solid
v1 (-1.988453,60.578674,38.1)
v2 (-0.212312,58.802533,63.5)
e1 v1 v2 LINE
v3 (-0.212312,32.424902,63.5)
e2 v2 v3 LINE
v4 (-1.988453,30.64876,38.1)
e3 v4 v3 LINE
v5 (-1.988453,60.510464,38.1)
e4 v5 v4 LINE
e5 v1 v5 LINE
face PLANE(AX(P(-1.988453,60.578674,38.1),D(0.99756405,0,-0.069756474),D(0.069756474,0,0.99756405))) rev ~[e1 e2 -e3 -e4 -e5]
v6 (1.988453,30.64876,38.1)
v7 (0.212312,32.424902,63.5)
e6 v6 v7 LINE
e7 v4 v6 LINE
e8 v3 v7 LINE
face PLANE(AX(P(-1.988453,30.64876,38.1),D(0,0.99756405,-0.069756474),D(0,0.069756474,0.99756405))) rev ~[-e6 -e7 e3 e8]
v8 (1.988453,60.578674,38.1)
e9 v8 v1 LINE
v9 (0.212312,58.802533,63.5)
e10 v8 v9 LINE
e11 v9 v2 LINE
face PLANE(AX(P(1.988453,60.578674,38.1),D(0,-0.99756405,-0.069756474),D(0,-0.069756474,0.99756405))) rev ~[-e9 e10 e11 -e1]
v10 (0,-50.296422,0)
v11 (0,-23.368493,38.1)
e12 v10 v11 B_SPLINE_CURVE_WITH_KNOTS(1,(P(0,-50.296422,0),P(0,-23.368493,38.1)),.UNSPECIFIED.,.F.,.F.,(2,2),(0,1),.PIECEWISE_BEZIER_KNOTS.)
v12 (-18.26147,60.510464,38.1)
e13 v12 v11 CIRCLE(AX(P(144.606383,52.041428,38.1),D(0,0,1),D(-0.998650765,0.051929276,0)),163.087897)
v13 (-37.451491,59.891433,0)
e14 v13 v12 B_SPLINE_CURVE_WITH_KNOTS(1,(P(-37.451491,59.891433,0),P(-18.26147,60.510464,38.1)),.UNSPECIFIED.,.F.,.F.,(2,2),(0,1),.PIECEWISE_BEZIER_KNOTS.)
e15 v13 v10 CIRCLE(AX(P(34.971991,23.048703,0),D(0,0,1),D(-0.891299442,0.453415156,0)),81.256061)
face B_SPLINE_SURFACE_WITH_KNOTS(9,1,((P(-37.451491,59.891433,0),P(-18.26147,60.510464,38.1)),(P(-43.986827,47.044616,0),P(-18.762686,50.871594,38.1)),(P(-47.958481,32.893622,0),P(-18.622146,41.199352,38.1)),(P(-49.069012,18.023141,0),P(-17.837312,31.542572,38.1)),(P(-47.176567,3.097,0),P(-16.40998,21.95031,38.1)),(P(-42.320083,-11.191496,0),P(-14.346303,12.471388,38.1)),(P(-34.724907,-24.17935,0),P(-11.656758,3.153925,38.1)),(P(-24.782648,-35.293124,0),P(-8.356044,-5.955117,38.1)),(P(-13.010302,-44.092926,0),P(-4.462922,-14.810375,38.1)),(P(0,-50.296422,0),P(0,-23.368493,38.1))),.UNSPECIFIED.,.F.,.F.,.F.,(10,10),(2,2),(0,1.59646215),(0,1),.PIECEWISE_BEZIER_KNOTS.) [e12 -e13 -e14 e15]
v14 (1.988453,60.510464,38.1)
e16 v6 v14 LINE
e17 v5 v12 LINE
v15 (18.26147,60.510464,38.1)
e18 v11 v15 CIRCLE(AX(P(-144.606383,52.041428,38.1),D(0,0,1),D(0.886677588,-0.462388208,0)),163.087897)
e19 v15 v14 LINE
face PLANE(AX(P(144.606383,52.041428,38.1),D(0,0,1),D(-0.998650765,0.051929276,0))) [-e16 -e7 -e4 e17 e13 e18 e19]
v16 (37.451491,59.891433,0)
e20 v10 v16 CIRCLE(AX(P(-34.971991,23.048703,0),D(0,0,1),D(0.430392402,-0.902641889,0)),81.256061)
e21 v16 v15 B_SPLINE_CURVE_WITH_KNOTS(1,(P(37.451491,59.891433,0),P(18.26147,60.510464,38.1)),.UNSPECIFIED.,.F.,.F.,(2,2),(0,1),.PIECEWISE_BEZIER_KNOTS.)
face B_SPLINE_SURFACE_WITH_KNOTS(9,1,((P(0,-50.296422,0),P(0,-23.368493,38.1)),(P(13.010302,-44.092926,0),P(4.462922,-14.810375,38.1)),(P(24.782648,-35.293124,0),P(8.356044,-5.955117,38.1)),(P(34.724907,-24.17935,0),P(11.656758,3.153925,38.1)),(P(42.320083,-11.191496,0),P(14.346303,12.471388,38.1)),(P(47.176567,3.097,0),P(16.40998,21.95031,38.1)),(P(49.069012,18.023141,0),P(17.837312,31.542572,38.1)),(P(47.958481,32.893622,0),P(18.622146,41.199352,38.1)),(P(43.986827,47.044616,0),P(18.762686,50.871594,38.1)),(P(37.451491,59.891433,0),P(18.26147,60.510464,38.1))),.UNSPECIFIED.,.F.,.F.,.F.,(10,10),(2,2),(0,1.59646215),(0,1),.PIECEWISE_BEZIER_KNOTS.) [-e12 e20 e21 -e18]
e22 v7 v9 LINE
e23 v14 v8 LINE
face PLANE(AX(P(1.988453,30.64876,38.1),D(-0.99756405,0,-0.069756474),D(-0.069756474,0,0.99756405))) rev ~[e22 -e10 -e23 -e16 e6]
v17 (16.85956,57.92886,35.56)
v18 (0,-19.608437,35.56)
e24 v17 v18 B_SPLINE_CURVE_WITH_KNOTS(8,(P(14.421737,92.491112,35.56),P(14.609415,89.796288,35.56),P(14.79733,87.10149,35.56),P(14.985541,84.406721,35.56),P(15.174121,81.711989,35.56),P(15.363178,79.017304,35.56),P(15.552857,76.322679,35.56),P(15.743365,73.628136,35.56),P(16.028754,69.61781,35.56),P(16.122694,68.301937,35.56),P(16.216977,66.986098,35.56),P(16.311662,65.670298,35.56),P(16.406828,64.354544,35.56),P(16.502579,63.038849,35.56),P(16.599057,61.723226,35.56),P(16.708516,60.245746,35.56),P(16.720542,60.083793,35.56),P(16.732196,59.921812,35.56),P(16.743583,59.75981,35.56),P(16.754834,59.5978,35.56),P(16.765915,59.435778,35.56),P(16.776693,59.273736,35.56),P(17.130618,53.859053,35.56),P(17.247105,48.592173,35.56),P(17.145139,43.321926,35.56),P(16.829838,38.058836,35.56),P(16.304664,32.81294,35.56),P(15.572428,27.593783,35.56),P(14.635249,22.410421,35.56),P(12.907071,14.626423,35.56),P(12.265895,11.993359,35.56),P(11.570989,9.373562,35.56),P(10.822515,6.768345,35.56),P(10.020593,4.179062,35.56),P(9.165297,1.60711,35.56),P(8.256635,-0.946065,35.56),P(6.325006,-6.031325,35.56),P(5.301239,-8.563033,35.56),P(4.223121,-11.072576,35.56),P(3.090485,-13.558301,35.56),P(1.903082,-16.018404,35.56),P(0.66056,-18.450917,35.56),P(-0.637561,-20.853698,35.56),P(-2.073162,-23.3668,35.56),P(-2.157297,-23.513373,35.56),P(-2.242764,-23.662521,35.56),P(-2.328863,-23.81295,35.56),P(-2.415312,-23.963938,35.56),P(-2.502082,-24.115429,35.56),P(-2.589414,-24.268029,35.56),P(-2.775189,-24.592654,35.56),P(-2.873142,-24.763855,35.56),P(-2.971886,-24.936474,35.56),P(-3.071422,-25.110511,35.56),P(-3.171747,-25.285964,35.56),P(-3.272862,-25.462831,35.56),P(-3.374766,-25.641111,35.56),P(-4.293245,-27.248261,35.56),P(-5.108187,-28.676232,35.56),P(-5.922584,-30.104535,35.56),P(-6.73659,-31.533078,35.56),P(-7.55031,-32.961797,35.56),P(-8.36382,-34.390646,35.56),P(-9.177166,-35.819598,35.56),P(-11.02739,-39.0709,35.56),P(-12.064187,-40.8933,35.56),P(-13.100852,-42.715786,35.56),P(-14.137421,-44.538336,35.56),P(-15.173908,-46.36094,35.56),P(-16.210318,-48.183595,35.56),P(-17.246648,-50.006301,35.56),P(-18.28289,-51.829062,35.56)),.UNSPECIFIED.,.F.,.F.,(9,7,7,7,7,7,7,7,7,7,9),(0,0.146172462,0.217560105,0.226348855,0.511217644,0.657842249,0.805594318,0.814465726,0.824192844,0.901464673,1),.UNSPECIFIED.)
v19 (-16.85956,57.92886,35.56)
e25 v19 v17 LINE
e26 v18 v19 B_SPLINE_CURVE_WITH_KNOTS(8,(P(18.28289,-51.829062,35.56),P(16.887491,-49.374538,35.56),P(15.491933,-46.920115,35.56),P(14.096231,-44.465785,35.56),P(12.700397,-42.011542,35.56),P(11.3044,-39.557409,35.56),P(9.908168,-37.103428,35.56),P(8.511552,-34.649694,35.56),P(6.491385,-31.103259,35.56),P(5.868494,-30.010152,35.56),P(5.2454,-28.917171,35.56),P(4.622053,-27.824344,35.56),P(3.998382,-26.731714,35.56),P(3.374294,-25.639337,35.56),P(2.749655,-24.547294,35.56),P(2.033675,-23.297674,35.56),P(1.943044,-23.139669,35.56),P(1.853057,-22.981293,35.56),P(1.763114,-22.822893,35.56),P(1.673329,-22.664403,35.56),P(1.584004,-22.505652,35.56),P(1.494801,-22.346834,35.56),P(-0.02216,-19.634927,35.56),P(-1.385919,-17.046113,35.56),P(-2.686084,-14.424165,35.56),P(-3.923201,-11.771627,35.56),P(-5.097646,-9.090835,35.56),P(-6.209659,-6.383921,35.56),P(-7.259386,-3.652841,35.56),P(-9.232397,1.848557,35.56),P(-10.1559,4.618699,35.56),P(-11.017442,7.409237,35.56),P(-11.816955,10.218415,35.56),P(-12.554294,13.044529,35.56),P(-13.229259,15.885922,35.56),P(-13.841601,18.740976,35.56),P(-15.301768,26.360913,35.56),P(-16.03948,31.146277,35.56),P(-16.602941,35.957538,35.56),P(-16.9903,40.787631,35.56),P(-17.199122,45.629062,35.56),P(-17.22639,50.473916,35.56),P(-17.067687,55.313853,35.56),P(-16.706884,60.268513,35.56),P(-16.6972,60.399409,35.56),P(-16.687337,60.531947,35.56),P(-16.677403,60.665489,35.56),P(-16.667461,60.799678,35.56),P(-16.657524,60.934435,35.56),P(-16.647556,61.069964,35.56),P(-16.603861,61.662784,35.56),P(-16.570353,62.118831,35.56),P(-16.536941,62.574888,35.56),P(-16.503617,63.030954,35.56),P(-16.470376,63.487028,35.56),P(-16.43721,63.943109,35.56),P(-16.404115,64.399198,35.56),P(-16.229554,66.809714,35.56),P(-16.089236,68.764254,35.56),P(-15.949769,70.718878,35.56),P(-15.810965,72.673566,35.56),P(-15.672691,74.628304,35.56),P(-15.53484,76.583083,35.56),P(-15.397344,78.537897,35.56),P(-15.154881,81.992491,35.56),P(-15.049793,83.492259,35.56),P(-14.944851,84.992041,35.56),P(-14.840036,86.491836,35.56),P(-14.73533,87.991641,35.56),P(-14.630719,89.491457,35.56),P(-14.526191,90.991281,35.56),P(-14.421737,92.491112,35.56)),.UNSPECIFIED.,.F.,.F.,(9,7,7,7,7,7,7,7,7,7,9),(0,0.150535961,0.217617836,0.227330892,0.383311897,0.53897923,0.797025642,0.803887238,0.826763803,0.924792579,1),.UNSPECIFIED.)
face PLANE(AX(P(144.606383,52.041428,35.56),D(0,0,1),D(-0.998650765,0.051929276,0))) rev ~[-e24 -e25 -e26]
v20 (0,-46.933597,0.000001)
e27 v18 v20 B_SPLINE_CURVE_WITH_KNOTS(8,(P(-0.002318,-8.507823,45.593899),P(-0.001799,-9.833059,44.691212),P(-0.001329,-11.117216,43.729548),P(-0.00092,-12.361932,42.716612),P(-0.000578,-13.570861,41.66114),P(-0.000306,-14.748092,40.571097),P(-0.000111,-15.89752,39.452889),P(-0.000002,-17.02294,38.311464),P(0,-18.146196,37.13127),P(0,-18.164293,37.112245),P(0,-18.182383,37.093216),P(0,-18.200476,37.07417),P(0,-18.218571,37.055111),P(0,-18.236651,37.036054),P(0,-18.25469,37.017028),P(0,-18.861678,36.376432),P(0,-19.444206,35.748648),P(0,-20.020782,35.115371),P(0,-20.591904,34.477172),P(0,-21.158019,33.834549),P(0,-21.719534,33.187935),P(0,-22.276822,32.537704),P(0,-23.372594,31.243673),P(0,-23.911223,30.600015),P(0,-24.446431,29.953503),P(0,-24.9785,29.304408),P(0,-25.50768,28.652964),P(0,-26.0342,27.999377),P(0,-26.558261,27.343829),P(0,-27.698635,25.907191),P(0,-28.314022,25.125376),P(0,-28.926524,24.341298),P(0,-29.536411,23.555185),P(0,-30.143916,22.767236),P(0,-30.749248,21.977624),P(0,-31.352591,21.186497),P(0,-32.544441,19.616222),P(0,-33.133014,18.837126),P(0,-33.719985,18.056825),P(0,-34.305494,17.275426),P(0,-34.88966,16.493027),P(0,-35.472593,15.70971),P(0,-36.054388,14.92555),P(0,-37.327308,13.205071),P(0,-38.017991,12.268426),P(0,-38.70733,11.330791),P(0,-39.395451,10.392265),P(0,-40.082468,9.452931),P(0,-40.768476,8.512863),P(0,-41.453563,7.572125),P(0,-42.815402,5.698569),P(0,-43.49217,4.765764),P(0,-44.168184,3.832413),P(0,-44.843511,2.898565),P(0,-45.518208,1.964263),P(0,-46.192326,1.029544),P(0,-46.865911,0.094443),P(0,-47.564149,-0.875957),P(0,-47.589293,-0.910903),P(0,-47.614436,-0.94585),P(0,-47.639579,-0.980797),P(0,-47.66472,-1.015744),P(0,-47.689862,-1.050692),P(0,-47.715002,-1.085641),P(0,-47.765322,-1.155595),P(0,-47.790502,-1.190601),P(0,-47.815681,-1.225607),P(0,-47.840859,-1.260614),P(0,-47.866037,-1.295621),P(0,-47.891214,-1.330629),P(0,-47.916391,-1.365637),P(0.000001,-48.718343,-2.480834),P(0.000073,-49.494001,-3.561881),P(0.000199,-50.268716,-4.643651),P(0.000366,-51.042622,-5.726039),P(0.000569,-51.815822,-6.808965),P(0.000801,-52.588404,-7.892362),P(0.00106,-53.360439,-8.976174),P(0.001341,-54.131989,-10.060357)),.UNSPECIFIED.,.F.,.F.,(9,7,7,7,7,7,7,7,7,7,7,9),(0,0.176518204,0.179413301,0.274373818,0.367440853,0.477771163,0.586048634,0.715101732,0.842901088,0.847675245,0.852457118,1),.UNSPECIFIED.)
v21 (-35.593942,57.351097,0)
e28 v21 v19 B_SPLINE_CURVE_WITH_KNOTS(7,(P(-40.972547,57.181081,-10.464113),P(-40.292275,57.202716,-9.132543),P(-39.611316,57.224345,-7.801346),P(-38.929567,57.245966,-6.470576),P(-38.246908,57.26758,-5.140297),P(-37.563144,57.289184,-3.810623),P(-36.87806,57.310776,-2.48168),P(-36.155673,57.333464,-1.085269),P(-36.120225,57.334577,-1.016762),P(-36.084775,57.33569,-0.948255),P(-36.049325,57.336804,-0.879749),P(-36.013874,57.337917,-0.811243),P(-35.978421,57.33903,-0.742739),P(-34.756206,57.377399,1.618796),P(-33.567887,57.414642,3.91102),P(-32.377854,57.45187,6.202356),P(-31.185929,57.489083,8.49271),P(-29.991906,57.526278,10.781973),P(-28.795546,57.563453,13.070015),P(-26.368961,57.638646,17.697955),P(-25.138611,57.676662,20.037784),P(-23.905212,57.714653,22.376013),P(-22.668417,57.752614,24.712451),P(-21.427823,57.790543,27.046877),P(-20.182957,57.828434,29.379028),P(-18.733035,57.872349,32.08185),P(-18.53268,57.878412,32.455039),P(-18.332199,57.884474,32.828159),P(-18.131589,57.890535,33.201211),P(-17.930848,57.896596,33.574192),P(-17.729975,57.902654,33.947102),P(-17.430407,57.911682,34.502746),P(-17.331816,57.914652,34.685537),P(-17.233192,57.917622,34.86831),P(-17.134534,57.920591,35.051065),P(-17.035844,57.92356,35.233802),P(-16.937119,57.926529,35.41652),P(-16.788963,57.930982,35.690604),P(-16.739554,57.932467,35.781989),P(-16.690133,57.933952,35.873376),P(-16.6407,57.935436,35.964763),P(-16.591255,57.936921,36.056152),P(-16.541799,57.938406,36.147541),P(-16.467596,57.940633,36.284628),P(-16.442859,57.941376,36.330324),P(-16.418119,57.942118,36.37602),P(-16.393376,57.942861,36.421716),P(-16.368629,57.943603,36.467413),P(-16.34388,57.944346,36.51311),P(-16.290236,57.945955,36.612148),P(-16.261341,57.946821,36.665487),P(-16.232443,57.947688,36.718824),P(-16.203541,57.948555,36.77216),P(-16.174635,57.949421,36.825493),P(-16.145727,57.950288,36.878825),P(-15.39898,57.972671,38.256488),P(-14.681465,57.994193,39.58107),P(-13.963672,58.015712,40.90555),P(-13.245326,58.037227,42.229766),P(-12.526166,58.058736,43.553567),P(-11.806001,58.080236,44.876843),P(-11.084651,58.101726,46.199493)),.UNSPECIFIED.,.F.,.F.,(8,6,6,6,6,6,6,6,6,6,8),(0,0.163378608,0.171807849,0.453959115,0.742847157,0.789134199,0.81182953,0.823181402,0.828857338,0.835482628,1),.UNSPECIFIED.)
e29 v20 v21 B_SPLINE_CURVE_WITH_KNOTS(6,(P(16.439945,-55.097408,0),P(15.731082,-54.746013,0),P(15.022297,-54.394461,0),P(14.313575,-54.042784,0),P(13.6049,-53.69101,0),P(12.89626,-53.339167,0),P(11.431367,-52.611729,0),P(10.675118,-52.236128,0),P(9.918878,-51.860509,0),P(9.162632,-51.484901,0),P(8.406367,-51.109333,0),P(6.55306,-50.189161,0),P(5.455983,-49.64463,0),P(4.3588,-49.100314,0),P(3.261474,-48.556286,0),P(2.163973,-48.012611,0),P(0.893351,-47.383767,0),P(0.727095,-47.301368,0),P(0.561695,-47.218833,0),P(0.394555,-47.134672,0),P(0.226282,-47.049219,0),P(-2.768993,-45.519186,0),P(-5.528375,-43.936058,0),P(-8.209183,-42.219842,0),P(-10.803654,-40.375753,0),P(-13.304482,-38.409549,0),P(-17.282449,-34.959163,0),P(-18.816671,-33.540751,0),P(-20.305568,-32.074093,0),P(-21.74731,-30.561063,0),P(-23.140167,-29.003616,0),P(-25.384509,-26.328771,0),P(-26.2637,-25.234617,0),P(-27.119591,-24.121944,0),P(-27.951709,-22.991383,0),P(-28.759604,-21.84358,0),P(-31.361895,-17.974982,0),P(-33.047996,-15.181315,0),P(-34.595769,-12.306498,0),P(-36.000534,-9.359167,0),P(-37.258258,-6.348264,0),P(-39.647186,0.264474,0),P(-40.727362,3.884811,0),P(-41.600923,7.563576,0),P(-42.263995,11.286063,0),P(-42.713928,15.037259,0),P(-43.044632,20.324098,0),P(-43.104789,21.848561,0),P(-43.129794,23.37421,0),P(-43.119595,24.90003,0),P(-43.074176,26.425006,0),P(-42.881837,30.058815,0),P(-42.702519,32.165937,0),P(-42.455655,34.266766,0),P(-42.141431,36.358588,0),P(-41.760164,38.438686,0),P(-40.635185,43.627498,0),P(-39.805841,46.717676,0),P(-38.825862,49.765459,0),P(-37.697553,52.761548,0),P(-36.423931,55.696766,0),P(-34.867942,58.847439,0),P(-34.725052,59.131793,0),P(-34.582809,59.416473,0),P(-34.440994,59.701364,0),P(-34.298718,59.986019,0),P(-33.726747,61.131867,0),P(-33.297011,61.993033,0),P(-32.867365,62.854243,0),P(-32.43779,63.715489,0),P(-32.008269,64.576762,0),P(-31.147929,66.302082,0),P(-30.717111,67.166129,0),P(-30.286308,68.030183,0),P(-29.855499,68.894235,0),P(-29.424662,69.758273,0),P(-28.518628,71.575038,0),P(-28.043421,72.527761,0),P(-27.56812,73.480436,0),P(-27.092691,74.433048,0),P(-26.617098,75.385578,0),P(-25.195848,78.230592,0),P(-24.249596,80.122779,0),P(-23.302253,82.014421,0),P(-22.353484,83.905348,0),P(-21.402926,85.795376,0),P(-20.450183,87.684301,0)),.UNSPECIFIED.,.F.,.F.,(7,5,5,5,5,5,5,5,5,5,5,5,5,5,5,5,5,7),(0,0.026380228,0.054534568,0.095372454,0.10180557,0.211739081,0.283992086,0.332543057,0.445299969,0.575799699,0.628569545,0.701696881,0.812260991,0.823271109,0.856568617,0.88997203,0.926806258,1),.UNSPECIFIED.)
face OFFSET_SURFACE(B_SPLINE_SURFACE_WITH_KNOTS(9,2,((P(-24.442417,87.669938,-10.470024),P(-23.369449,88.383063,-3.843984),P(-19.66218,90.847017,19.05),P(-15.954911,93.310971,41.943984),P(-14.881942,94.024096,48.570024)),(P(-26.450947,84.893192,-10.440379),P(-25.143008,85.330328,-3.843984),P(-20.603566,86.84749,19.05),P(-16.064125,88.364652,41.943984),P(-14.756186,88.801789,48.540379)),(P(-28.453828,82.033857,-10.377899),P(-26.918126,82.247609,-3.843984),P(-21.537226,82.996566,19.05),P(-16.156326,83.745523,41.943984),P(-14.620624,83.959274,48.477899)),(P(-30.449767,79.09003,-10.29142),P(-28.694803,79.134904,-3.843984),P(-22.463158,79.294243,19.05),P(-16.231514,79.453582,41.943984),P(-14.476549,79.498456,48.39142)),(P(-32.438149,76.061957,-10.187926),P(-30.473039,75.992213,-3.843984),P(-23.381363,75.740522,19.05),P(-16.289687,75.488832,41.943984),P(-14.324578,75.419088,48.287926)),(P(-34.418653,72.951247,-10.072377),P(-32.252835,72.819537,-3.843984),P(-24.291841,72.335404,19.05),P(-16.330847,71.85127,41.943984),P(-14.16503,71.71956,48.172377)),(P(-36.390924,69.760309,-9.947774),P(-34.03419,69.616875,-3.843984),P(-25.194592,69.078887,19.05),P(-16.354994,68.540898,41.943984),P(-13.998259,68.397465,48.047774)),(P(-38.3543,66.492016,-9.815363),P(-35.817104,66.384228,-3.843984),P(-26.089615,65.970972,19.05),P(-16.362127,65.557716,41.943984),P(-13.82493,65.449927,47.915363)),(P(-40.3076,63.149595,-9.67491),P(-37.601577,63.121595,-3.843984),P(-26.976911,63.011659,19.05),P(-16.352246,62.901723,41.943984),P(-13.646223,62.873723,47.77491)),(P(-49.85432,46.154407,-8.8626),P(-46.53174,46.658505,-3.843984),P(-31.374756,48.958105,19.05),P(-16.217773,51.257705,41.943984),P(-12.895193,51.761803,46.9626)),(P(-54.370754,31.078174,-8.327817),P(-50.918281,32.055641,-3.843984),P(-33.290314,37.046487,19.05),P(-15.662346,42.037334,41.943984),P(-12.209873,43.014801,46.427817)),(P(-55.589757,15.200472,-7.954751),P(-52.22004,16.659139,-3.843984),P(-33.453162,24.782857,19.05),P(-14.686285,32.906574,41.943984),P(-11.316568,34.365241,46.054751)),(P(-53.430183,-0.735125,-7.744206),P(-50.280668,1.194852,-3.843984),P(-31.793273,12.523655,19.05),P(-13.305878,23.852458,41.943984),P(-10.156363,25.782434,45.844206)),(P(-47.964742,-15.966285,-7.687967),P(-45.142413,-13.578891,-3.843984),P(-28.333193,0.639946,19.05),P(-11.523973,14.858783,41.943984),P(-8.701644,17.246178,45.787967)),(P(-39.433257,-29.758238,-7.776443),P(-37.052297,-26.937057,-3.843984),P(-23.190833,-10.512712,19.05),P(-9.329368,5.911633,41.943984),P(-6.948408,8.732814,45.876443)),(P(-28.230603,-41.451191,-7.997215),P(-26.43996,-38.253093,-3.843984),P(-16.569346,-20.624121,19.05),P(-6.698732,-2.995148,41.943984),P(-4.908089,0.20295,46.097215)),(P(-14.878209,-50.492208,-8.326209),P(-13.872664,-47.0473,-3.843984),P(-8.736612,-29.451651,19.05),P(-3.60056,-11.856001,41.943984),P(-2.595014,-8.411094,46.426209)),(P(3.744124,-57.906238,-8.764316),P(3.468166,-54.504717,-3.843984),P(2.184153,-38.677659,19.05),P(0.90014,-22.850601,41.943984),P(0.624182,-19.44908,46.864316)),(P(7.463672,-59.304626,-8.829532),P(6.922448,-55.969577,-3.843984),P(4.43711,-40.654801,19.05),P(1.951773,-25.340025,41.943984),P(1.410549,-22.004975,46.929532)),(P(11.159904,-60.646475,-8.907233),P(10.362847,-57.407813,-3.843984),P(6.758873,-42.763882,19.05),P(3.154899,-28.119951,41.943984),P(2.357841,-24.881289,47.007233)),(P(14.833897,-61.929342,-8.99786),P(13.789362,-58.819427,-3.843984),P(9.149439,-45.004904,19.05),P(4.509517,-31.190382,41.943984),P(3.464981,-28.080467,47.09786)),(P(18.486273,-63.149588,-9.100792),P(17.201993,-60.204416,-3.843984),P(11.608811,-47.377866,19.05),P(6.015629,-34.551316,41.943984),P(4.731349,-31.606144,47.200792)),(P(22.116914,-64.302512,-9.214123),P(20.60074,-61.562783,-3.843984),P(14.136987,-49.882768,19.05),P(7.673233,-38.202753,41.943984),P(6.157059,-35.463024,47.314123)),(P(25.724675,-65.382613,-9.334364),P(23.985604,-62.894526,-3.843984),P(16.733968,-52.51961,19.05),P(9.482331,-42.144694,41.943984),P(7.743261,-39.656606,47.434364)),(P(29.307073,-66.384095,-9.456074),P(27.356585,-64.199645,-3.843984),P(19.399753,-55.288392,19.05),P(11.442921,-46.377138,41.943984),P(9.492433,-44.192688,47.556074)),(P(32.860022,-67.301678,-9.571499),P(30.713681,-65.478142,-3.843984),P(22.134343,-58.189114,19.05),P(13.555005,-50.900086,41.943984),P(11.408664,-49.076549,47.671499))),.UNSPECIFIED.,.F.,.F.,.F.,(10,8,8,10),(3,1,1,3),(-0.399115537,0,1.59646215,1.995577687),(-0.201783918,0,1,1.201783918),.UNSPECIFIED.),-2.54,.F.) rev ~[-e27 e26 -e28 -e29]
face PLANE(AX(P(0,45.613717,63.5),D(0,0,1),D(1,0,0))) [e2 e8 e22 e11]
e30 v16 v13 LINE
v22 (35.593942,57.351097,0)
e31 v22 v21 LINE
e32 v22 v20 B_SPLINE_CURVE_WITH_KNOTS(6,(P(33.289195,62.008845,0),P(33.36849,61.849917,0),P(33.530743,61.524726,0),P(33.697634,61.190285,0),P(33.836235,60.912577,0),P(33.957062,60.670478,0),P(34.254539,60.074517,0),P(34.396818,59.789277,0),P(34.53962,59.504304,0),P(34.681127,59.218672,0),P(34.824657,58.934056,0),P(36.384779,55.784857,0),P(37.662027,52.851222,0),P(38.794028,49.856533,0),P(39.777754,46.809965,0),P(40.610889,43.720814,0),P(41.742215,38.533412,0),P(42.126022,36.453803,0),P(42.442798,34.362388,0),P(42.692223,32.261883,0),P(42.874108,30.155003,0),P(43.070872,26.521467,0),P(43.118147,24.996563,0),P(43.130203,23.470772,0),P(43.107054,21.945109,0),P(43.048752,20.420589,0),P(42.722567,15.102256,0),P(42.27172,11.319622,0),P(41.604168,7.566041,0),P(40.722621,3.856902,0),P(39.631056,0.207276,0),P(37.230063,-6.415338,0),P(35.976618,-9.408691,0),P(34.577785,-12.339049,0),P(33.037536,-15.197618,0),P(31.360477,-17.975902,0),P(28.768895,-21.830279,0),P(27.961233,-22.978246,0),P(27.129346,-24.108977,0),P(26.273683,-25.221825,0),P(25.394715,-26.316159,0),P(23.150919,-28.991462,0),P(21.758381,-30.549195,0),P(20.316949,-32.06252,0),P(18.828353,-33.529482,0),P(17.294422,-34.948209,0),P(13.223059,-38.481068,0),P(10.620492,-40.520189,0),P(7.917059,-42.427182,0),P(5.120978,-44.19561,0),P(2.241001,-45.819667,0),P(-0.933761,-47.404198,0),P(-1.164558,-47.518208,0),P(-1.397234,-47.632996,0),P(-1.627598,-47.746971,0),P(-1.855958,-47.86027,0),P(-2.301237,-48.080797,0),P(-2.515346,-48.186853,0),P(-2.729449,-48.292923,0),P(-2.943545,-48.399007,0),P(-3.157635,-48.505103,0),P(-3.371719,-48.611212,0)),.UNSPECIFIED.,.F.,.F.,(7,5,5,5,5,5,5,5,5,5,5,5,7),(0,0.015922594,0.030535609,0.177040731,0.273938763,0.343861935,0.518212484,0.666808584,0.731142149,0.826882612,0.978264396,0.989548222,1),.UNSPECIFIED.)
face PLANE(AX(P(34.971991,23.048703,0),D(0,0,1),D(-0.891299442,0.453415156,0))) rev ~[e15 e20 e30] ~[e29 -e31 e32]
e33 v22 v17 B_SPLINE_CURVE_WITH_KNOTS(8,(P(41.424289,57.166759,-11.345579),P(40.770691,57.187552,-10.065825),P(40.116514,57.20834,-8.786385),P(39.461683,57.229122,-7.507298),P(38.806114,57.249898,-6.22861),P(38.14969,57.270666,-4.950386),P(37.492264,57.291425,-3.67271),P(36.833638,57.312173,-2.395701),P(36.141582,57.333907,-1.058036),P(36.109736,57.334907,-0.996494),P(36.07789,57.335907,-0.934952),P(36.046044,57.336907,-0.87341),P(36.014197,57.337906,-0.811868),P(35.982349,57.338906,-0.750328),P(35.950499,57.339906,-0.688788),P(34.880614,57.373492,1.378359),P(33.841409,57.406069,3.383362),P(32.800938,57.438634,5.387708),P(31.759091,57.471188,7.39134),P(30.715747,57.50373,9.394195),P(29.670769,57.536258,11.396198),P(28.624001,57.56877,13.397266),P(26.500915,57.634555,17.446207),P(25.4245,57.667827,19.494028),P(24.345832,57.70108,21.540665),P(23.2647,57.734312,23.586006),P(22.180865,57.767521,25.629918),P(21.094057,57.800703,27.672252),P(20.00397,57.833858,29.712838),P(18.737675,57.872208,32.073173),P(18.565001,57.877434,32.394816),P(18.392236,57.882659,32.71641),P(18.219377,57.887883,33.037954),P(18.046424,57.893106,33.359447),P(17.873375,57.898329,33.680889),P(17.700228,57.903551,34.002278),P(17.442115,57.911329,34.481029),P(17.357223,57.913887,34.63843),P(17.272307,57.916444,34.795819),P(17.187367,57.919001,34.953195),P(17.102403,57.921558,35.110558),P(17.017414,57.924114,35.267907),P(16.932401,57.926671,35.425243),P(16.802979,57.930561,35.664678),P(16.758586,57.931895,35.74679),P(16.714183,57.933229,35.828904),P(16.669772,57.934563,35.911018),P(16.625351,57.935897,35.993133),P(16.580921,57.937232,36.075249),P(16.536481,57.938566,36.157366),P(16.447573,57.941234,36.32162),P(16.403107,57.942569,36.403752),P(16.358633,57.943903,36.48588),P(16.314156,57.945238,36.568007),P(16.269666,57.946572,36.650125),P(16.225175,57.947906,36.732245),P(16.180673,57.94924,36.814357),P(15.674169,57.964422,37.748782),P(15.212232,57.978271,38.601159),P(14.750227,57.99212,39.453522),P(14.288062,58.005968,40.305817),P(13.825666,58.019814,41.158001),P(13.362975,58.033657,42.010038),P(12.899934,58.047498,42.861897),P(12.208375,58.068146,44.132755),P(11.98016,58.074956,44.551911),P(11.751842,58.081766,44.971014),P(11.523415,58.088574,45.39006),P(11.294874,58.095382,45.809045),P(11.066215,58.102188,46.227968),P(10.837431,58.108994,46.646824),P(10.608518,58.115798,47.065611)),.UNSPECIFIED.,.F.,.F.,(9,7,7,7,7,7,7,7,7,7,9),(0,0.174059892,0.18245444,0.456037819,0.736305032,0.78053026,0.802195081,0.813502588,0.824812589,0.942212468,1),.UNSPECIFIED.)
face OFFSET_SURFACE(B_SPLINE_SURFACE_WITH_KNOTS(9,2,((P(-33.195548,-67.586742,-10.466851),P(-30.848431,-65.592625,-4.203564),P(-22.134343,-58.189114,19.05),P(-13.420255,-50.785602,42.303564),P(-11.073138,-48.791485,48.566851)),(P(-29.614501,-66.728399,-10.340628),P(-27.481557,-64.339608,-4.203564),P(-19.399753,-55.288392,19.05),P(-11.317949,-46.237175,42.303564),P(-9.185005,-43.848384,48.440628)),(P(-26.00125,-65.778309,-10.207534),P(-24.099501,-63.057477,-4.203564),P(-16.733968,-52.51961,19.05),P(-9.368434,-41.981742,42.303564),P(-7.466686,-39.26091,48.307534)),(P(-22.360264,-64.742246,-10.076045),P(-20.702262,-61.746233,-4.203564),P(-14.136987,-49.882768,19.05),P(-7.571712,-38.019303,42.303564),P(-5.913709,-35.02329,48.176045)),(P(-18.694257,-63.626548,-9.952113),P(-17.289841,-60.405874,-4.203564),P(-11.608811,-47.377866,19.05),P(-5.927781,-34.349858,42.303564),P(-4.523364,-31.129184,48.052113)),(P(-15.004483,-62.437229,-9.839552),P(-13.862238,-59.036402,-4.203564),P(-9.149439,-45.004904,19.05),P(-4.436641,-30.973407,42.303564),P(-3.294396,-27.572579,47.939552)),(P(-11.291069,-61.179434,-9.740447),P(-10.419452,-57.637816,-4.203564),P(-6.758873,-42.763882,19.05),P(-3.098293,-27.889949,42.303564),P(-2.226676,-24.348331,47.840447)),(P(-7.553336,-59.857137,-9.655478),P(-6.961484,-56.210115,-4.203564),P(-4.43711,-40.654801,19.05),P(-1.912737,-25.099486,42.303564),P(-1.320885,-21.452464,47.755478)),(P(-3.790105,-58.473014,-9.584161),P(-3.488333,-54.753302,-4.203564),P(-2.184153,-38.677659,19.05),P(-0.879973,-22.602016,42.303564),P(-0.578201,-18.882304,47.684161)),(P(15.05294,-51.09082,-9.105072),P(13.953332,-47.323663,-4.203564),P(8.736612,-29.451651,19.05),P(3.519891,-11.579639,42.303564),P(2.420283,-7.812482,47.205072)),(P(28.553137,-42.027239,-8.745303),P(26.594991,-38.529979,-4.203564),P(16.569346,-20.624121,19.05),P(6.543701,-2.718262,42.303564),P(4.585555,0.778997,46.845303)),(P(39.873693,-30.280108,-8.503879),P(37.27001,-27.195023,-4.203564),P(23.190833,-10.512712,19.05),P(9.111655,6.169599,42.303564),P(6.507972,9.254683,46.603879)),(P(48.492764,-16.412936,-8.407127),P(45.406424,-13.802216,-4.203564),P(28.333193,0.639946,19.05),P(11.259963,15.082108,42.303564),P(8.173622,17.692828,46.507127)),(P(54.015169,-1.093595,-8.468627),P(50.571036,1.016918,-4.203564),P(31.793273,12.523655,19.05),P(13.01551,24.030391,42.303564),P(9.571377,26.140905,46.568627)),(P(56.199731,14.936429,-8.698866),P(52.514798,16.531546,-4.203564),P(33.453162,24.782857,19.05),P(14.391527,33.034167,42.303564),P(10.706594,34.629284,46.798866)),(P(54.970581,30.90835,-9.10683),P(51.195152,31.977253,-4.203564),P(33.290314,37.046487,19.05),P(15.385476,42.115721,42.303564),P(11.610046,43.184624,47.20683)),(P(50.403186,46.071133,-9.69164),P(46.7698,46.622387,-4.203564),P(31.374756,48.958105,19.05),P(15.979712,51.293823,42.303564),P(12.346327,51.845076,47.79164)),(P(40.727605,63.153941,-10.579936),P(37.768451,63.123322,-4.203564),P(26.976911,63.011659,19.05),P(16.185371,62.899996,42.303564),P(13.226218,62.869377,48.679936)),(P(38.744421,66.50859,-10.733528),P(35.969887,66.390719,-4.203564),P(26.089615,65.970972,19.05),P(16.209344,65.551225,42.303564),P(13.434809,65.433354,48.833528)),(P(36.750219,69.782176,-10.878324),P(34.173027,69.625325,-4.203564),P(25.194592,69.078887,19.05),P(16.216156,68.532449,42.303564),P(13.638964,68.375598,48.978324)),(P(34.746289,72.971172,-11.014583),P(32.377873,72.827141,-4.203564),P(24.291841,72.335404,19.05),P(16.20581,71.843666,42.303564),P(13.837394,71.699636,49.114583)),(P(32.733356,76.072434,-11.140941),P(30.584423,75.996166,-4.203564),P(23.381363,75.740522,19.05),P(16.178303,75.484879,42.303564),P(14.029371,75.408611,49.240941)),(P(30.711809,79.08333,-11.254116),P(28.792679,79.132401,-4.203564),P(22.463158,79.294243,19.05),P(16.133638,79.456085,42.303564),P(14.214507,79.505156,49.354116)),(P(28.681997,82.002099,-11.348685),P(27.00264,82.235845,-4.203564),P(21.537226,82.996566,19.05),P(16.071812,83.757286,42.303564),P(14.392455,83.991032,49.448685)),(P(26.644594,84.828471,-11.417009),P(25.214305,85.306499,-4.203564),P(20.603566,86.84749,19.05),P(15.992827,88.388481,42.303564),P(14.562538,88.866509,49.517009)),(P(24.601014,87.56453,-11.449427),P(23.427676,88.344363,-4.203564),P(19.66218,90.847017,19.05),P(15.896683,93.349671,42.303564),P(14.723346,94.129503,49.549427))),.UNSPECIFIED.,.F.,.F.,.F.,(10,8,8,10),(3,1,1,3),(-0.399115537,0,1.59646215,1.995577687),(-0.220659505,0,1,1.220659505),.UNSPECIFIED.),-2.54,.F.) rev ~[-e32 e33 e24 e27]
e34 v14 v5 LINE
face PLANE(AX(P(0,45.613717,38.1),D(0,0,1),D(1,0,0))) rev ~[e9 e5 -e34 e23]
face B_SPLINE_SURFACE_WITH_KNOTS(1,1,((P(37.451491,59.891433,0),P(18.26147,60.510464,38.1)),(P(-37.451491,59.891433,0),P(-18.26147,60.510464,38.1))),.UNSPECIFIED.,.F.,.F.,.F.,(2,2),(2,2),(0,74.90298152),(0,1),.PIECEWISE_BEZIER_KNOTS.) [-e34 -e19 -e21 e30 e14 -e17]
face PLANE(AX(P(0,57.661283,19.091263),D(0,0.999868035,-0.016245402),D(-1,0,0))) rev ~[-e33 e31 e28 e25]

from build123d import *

# Parameters (mm, degrees)
F4_T     = -2.54
F6_DEPTH = 25.4
F6_TAPER = 4


with BuildPart() as f3:
    # F0 (on Top) → F3 section 0
    with BuildSketch(Plane.XY):
        with BuildLine():
            Line((37.4514907598, 59.8914325237), (0, 59.8914325237))
            Line((0, 59.8914325237), (-37.4514907598, 59.8914325237))
            ThreePointArc((-37.4514907598, 59.8914325237), (-41.9616667547, -3.1000974537), (0, -50.2964220941))
            ThreePointArc((0, -50.2964220941), (41.9616667547, -3.1000974537), (37.4514907598, 59.8914325237))
        make_face()
    # F2 (on offset) → F3 section 1
    with BuildSketch(Plane.XY.offset(38.1)):
        with BuildLine():
            Line((0, 60.5104640126), (-18.2614699006, 60.5104640126))
            ThreePointArc((-18.2614699006, 60.5104640126), (-14.7486334866, 17.3479007496), (0, -23.3684927225))
            ThreePointArc((0, -23.3684927225), (14.7486334866, 17.3479007496), (18.2614699006, 60.5104640126))
            Line((18.2614699006, 60.5104640126), (0, 60.5104640126))
        make_face()
    loft()

    # F4
    f4_openings = [f3.faces().sort_by_distance(p)[0] for p in [
        (0, 12.627016, 0),
    ]]
    offset(amount=F4_T, openings=f4_openings, kind=Kind.INTERSECTION)

    # F5 (on offset) → F6 (join)
    with BuildSketch(Plane.XY.offset(38.1)):
        Polygon((1.9884528592, 60.578674078), (0, 60.578674078), (-1.9884528592, 60.578674078), (-1.9884528592, 30.6487604976), (0, 30.6487604976), (1.9884528592, 30.6487604976), align=None)
    extrude(amount=F6_DEPTH, taper=F6_TAPER)


solid = f3.part
